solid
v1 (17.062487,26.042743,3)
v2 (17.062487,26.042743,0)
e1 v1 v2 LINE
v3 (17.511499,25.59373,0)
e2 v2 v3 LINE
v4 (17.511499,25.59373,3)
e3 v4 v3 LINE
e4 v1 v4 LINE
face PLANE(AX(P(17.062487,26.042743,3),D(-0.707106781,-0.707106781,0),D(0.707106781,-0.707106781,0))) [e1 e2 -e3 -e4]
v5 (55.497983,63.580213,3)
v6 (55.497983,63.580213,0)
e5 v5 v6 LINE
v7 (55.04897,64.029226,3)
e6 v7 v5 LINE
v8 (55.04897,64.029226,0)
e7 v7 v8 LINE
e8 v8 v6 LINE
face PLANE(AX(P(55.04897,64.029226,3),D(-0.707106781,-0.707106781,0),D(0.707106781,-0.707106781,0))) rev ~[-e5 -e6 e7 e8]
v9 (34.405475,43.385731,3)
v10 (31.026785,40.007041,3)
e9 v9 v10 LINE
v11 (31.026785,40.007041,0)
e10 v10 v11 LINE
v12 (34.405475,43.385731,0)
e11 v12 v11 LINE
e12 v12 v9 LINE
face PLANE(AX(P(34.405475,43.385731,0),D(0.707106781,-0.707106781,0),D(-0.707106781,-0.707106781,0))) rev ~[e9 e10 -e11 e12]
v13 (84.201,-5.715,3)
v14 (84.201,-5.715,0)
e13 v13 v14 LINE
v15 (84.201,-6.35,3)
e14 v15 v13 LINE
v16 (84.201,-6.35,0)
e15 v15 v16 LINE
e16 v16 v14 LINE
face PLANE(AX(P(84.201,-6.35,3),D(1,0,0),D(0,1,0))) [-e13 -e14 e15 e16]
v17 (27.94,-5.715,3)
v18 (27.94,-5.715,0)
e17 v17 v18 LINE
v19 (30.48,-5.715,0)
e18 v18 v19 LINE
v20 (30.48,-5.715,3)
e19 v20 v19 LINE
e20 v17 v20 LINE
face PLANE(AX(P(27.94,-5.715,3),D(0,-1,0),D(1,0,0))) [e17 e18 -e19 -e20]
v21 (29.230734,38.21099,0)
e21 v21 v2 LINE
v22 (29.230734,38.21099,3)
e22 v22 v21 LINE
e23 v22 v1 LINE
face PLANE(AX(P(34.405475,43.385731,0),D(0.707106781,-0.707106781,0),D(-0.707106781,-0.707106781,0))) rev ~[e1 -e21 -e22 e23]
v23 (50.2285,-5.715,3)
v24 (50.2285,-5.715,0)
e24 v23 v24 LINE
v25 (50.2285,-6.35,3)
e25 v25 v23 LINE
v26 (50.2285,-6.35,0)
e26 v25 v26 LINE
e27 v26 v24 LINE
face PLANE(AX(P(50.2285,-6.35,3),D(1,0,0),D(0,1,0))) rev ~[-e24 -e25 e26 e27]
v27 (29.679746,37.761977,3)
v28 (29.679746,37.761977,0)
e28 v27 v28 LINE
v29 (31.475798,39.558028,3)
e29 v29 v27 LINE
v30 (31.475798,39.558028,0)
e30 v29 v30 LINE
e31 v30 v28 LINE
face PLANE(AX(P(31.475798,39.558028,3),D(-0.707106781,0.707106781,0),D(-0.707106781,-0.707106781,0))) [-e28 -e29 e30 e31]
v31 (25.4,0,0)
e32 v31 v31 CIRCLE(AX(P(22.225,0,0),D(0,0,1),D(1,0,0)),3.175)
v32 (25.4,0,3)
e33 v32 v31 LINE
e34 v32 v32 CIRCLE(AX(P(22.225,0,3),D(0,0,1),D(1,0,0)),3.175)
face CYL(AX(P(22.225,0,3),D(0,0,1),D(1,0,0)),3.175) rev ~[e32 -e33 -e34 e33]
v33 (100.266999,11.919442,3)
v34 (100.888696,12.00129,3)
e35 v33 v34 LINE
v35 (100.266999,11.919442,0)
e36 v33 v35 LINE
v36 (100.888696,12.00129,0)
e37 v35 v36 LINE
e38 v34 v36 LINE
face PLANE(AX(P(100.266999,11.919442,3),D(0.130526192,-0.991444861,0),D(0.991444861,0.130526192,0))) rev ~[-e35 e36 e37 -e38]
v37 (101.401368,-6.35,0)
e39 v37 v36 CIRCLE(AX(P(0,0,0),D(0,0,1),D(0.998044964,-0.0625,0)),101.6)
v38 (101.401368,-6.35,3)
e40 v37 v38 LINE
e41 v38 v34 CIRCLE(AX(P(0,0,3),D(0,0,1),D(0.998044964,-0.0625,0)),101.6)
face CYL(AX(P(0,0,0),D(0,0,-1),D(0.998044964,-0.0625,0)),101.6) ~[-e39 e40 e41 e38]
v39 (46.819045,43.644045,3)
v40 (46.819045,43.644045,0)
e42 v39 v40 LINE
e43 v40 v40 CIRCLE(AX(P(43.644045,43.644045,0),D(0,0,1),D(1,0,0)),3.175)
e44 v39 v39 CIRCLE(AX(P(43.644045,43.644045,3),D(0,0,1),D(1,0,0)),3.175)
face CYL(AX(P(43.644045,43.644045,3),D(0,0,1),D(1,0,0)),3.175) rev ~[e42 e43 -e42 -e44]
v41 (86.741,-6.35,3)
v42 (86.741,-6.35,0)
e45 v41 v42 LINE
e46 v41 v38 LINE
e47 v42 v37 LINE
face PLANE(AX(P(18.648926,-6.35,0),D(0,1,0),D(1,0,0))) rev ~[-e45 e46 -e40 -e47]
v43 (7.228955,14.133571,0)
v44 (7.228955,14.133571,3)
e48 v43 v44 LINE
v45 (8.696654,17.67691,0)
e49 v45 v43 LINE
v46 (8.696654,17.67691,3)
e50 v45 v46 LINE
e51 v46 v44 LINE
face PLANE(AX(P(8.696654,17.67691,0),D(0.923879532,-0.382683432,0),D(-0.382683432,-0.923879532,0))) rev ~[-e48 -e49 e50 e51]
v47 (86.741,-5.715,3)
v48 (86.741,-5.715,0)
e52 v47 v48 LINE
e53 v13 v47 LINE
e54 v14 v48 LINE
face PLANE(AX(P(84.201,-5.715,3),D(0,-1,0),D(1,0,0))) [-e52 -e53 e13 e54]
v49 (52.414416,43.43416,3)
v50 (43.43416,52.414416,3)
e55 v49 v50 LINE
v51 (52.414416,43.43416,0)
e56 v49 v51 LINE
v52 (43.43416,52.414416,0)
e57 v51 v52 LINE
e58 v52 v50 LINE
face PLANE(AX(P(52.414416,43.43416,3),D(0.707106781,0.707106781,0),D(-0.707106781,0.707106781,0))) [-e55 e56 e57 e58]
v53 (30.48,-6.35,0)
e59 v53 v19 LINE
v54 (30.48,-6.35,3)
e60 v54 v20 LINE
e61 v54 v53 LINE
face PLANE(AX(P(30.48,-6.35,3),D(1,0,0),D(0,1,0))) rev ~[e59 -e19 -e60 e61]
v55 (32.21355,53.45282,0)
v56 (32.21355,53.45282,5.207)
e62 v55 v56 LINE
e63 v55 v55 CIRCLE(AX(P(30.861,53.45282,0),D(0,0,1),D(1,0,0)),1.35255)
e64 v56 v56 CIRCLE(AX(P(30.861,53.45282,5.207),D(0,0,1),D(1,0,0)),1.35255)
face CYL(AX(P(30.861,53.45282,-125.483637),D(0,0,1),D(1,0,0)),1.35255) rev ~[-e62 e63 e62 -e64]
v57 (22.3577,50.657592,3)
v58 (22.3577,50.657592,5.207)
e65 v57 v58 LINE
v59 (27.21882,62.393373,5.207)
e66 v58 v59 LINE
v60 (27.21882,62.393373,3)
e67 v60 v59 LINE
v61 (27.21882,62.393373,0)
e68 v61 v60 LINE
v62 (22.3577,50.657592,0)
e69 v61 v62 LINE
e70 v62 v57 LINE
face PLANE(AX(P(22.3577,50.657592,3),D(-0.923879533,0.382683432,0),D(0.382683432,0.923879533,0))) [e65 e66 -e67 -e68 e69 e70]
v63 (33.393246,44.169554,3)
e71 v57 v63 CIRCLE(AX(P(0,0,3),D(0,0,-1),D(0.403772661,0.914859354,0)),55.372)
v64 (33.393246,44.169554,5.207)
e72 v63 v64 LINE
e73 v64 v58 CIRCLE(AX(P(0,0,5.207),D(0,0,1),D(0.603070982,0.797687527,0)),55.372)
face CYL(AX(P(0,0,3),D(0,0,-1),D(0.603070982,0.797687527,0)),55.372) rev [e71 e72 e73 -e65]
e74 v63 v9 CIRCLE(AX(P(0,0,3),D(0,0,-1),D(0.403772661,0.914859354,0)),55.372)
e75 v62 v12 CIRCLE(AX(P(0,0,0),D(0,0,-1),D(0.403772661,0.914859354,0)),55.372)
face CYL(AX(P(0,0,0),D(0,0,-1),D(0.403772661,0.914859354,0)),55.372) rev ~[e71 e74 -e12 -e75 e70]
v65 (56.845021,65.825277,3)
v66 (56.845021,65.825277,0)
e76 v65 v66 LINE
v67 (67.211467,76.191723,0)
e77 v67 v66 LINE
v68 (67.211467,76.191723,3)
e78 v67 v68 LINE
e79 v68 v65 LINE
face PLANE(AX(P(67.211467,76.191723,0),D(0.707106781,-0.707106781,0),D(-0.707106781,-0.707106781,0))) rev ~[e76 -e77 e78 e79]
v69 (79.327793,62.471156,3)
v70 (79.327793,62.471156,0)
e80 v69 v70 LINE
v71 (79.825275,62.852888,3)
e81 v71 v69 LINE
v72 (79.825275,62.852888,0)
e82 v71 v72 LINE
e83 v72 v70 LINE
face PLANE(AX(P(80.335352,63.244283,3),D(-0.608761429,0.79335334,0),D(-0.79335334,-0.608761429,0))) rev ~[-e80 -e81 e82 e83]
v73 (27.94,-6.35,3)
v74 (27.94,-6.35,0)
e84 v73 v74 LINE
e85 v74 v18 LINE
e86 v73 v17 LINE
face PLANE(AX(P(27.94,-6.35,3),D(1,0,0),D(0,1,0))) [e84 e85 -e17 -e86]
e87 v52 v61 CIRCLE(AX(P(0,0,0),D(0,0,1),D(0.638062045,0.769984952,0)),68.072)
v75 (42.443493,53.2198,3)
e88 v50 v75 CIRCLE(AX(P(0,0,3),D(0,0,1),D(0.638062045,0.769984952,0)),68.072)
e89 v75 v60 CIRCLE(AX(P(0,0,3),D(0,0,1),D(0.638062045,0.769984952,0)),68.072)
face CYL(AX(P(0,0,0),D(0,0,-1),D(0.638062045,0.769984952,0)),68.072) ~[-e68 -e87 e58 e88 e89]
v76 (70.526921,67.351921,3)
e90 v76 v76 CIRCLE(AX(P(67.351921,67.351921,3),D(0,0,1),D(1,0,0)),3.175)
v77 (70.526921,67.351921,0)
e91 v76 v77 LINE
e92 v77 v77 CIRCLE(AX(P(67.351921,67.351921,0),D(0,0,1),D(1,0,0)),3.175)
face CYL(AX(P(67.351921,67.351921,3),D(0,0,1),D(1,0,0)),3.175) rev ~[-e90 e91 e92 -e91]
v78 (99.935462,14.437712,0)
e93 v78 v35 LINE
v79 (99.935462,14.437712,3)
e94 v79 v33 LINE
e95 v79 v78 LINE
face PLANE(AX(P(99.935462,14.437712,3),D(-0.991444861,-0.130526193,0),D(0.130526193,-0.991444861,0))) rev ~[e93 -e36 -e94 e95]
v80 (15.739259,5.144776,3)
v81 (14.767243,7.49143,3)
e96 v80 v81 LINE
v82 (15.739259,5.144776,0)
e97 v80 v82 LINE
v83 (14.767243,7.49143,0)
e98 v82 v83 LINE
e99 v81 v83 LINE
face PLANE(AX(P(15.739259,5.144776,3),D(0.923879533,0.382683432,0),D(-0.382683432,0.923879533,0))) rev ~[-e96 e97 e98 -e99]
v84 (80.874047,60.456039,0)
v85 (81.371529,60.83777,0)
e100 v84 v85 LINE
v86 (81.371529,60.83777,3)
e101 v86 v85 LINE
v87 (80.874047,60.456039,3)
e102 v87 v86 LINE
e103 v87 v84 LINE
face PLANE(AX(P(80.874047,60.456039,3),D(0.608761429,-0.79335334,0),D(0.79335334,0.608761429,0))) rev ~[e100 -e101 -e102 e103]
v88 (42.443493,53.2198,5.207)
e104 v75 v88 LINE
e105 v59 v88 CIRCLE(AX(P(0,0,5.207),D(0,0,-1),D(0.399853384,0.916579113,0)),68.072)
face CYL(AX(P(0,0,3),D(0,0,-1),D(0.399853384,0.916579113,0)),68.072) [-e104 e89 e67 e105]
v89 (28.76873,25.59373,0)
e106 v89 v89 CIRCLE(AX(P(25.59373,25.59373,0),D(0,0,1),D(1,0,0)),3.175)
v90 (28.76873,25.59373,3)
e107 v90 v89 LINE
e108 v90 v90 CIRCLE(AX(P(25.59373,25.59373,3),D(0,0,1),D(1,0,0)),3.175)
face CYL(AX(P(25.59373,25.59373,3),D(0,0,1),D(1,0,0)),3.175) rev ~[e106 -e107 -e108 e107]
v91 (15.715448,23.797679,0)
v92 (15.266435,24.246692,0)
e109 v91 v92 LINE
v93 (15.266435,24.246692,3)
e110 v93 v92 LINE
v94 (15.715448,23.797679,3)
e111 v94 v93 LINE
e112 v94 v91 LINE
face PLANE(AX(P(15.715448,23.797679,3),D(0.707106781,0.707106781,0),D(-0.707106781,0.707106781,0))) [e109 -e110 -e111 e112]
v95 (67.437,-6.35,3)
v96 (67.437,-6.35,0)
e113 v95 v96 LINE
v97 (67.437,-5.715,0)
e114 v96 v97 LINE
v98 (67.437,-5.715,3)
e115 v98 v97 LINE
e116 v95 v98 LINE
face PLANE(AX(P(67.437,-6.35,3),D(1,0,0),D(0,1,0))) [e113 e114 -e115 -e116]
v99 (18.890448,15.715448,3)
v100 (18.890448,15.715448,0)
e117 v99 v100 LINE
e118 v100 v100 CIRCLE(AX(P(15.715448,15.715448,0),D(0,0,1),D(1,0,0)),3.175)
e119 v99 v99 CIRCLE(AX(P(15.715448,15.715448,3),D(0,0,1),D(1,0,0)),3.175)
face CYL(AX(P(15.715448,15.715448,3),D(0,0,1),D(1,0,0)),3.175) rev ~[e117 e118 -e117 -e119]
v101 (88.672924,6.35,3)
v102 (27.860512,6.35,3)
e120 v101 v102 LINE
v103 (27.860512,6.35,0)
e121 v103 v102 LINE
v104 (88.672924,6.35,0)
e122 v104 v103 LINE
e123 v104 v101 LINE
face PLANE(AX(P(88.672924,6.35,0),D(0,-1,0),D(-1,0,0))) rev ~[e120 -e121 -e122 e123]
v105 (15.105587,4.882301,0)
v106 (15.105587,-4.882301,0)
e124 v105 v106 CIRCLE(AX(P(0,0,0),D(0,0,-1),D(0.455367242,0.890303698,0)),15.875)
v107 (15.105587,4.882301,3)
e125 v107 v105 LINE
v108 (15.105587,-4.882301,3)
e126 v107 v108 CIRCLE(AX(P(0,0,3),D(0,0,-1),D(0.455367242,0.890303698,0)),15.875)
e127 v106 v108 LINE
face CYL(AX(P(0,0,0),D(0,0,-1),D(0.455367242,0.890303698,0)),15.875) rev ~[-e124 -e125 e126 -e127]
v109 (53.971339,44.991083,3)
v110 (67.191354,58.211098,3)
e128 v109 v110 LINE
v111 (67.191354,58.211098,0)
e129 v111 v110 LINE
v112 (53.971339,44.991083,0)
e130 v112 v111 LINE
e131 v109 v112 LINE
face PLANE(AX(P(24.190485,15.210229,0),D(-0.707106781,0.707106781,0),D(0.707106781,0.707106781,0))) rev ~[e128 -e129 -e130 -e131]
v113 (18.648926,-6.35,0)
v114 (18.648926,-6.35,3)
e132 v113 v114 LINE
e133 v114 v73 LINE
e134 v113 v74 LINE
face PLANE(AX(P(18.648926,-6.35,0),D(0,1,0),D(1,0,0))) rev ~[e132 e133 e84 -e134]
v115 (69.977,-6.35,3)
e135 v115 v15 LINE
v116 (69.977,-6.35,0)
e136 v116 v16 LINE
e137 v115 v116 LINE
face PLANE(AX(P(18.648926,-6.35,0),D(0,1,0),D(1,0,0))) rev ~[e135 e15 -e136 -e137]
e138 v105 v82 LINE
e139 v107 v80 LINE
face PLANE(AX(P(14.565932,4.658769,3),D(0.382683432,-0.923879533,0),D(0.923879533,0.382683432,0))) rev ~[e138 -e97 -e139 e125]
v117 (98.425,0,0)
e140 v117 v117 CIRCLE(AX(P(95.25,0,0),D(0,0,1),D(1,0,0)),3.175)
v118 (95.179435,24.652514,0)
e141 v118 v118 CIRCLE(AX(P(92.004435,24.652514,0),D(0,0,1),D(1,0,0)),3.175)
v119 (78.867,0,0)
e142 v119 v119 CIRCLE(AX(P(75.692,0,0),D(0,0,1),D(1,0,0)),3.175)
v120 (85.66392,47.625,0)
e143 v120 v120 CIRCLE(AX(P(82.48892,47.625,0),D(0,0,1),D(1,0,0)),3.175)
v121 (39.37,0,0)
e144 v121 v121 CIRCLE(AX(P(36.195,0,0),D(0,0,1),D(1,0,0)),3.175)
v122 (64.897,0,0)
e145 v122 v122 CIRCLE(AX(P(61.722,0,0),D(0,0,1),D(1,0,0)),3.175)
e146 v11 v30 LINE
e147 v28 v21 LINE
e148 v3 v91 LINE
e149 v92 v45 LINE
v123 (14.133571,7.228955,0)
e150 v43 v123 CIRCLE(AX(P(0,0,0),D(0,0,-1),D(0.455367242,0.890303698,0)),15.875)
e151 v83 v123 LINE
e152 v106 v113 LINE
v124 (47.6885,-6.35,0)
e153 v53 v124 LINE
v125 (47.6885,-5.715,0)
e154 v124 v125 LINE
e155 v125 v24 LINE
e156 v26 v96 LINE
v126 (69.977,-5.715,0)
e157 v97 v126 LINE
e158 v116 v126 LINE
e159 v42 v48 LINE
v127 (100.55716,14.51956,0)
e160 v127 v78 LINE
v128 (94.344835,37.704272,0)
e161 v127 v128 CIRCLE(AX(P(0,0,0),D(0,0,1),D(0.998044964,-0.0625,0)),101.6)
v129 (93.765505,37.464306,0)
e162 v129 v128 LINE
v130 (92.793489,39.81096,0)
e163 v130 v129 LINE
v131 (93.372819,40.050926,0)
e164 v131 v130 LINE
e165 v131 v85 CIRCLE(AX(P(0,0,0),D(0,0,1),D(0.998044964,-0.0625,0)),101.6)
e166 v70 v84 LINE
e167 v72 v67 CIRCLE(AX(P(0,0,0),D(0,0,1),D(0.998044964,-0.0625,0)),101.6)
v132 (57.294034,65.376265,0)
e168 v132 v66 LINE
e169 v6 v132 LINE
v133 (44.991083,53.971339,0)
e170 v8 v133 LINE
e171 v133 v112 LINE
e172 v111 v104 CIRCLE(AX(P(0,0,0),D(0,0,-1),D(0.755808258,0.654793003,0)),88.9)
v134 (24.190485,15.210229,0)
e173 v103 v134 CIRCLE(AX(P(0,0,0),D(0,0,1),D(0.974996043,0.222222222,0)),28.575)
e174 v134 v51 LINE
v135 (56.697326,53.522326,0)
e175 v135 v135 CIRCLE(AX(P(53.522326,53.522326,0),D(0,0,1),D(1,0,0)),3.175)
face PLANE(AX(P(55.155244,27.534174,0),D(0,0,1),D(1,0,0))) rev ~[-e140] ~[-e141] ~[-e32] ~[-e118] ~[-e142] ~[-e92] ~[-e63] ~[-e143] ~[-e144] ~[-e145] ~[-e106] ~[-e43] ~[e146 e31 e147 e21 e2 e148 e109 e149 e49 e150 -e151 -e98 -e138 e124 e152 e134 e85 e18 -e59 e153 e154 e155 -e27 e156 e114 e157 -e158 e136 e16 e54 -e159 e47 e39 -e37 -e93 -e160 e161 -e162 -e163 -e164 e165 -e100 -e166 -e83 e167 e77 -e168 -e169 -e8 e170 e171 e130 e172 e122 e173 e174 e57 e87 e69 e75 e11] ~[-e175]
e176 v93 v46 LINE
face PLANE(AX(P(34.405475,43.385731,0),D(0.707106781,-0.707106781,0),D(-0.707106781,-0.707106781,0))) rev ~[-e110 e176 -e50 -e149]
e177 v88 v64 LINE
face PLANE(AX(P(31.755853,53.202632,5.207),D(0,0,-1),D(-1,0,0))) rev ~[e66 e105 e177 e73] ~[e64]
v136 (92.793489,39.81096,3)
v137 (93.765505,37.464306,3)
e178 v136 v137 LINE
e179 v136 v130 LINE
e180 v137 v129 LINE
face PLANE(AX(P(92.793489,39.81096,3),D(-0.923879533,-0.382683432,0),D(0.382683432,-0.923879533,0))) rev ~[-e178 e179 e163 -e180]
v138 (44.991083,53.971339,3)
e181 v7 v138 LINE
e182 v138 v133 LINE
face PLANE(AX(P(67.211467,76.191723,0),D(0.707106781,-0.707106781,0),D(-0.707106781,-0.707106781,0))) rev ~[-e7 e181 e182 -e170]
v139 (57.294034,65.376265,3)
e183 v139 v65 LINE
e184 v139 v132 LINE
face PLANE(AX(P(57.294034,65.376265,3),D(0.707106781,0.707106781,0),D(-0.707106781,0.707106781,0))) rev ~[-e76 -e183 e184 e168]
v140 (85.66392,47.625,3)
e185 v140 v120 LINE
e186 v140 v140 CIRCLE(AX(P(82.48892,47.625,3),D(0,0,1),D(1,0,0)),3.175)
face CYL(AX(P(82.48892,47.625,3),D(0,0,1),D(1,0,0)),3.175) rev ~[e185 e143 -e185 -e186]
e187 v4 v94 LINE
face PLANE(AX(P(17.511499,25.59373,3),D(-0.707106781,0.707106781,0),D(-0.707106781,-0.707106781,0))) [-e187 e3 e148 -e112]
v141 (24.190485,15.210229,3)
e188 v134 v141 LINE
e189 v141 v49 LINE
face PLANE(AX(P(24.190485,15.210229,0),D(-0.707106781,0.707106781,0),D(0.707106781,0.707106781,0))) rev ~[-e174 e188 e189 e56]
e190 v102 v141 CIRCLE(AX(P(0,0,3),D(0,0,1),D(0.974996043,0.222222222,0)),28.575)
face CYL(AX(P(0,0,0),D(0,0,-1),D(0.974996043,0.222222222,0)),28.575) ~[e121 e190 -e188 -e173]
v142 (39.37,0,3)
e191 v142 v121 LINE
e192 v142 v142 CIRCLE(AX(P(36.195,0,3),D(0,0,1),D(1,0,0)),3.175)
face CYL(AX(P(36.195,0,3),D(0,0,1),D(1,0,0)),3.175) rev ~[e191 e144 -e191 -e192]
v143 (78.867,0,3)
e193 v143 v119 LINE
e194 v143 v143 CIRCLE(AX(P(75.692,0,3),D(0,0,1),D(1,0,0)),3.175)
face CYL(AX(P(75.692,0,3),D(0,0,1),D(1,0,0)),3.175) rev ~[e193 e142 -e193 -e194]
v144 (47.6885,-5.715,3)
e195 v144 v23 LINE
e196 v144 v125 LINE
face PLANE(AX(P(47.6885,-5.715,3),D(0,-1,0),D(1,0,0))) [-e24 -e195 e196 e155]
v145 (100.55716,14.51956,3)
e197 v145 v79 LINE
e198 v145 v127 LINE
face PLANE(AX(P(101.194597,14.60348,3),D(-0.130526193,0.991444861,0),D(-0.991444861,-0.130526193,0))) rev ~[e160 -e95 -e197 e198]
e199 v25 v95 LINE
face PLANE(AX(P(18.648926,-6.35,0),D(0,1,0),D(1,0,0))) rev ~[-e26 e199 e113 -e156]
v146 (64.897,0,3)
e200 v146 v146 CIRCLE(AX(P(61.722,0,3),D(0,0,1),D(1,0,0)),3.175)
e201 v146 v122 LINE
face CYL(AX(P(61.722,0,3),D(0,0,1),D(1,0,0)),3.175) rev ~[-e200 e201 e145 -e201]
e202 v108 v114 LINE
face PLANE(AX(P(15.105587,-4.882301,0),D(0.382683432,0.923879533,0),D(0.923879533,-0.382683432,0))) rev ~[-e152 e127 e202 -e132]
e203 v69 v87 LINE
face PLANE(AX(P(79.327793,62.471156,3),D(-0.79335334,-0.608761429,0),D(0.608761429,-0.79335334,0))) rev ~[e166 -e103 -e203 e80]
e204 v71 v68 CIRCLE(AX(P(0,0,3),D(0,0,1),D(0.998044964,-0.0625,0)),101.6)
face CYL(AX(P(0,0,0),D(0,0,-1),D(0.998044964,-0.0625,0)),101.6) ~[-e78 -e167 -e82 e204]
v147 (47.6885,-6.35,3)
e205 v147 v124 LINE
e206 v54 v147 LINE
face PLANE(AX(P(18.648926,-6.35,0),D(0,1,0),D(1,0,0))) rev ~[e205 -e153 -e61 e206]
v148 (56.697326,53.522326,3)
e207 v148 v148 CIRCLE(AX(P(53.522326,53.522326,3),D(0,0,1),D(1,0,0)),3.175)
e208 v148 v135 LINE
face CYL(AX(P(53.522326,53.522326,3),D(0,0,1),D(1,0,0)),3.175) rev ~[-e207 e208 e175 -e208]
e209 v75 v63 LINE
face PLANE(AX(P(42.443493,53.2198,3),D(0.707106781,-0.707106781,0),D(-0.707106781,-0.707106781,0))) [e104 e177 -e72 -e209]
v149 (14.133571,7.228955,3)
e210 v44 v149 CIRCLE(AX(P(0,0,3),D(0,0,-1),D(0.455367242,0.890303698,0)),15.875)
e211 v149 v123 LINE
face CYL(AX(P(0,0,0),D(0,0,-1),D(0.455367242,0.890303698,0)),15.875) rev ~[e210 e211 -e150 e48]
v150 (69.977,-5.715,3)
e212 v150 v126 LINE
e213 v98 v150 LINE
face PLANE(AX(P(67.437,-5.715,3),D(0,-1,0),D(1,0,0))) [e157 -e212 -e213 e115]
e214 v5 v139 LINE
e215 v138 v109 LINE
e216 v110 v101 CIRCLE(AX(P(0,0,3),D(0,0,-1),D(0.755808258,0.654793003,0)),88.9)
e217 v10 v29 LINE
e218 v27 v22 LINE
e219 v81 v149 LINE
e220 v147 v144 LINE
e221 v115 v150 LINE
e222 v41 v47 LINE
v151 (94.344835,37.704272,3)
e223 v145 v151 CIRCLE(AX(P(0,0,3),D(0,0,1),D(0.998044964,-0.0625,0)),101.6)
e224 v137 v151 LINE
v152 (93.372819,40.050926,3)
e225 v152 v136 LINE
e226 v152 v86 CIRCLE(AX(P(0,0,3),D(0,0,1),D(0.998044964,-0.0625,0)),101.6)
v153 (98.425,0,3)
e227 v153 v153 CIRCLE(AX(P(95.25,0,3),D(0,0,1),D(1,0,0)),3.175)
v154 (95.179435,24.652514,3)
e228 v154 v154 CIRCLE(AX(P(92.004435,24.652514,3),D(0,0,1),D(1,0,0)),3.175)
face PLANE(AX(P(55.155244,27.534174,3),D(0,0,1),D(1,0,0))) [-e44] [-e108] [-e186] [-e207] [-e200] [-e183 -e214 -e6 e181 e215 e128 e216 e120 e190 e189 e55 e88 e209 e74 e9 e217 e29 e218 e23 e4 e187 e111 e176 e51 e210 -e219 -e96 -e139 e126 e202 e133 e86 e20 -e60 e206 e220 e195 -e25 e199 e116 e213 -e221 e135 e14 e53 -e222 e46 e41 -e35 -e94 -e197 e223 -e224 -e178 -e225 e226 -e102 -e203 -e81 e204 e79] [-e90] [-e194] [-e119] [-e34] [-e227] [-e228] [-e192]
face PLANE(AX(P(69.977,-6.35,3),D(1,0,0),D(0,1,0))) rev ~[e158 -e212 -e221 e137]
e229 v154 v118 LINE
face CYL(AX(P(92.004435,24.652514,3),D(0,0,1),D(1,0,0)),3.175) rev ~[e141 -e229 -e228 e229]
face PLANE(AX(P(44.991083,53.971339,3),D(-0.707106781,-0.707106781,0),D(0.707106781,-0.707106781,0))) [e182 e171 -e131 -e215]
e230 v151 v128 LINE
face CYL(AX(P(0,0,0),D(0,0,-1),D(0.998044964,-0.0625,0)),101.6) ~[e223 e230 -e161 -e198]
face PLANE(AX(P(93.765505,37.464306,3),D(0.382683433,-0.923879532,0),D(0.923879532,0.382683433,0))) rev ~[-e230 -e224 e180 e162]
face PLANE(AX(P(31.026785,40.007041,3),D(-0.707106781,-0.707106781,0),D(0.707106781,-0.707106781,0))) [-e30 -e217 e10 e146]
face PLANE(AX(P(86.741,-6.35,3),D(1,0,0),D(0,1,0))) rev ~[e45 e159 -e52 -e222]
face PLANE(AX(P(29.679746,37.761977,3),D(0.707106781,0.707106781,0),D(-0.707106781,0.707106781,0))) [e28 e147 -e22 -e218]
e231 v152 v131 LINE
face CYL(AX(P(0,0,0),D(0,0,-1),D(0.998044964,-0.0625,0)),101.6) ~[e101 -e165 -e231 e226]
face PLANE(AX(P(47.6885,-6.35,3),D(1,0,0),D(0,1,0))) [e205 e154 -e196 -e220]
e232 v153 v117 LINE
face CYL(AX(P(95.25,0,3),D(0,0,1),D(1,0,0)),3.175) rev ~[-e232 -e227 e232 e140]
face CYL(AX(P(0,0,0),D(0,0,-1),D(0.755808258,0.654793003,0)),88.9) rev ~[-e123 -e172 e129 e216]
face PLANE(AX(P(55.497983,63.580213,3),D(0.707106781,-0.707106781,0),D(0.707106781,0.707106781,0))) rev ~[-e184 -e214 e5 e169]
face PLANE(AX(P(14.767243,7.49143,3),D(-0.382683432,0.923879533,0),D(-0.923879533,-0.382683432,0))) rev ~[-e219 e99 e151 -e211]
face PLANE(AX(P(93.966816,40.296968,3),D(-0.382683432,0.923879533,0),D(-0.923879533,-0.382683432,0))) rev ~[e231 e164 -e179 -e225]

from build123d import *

# Parameters (mm, degrees)
BOSS_EXTRUDE1_DEPTH   = 3.000000096
SKETCH2_R             = 3.175
CUT_EXTRUDE1_DEPTH    = 4.000000096
SKETCH3_W             = 2.54
SKETCH3_H             = 0.635
CUT_EXTRUDE2_DEPTH    = 4.000000096
BOSS_EXTRUDE2_DEPTH   = 2.206999904
F_6_32_TAPPED_HOLE1_D = 2.7051


with BuildPart() as part:
    # Sketch1 → Boss-Extrude1 (new body)
    with BuildSketch(Plane.XY):
        with BuildLine():
            Line((27.218819563, 62.393373411), (22.357699804, 50.65759216))
            ThreePointArc((22.357699804, 50.65759216), (28.61353693, 47.405947816), (34.405475059, 43.38573118))
            Line((34.405475059, 43.38573118), (8.696654013, 17.676910134))
            Line((8.696654013, 17.676910134), (7.228954972, 14.133571205))
            ThreePointArc((7.228954972, 14.133571205), (14.666587579, 6.075099489), (15.105587123, -4.88230096))
            Line((15.105587123, -4.88230096), (18.648926052, -6.35))
            Line((18.648926052, -6.35), (101.401368334, -6.35))
            ThreePointArc((101.401368334, -6.35), (93.866160503, 38.880636728), (67.21146711, 76.191723231))
            Line((67.21146711, 76.191723231), (43.43415954, 52.414415661))
            ThreePointArc((43.43415954, 52.414415661), (35.677104191, 57.973626939), (27.218819563, 62.393373411))
        make_face()
        with BuildLine():
            Line((88.672924278, 6.35), (27.86051193, 6.35))
            ThreePointArc((27.86051193, 6.35), (26.399857642, 10.93517908), (24.190484974, 15.210228852))
            Line((24.190484974, 15.210228852), (67.191354125, 58.211098004))
            ThreePointArc((67.191354125, 58.211098004), (82.13289044, 34.020557137), (88.672924278, 6.35))
        make_face(mode=Mode.SUBTRACT)
    extrude(amount=BOSS_EXTRUDE1_DEPTH)

    # Sketch2 → Cut-Extrude1 (cut, through all)
    with BuildSketch(Plane.XY.offset(3.000000096)):
        with Locations((22.225, 0)):
            Circle(SKETCH2_R)
        with Locations((36.195, 0)):
            Circle(SKETCH2_R)
        with Locations((61.722, 0)):
            Circle(SKETCH2_R)
        with Locations((75.692, 0)):
            Circle(SKETCH2_R)
        with Locations((95.25, 0)):
            Circle(SKETCH2_R)
        with Locations((15.715448212, 15.715448212)):
            Circle(SKETCH2_R)
        with Locations((25.593729945, 25.593729945)):
            Circle(SKETCH2_R)
        with Locations((43.644044748, 43.644044748)):
            Circle(SKETCH2_R)
        with Locations((53.522326482, 53.522326482)):
            Circle(SKETCH2_R)
        with Locations((92.004434954, 24.652514046)):
            Circle(SKETCH2_R)
        with Locations((82.48891971, 47.625)):
            Circle(SKETCH2_R)
        with Locations((67.351920908, 67.351920908)):
            Circle(SKETCH2_R)
    extrude(amount=-CUT_EXTRUDE1_DEPTH, mode=Mode.SUBTRACT)

    # Sketch3 → Cut-Extrude2 (cut, through all)
    with BuildSketch(Plane.XY.offset(3.000000096)):
        Polygon((15.266435406, 24.246691527), (17.06248663, 26.042742751), (17.511499436, 25.593729945), (15.715448212, 23.797678721), align=None)
        Polygon((43.43415954, 52.414415661), (44.991083167, 53.971339288), (53.971339288, 44.991083167), (52.414415661, 43.43415954), align=None)
        with Locations((29.21, -6.0325)):
            Rectangle(SKETCH3_W, SKETCH3_H)
        with Locations((68.707, -6.0325)):
            Rectangle(SKETCH3_W, SKETCH3_H)
        Polygon((29.230733674, 38.210989795), (31.026784898, 40.007041019), (31.475797704, 39.558028213), (29.67974648, 37.761976989), align=None)
        Polygon((56.845021246, 65.825277367), (55.048970022, 64.029226143), (55.497982828, 63.580213337), (57.294034052, 65.376264561), align=None)
        with Locations((48.9585, -6.0325)):
            Rectangle(SKETCH3_W, SKETCH3_H)
        with Locations((85.471, -6.0325)):
            Rectangle(SKETCH3_W, SKETCH3_H)
        Polygon((99.935462164, 14.437711971), (100.266998693, 11.919442024), (101.526133667, 12.085210288), (101.194597138, 14.603480236), align=None)
        Polygon((93.765504959, 37.464305742), (94.938831965, 37.950313702), (93.966816047, 40.296967714), (92.793489041, 39.810959755), align=None)
        Polygon((79.327792988, 62.471156422), (80.874047017, 60.456038938), (81.88160576, 61.229165953), (80.33535173, 63.244283437), align=None)
        Polygon((13.593916116, 7.005422516), (14.565932035, 4.658768503), (15.739259041, 5.144776462), (14.767243123, 7.491430475), align=None)
    extrude(amount=-CUT_EXTRUDE2_DEPTH, mode=Mode.SUBTRACT)

    # Sketch4 → Boss-Extrude2 (add)
    with BuildSketch(Plane.XY.offset(3.000000096)):
        with BuildLine():
            Line((22.357699804, 50.65759216), (27.218819563, 62.393373411))
            ThreePointArc((27.218819563, 62.393373411), (35.13186657, 58.305652688), (42.443492672, 53.219800017))
            Line((42.443492672, 53.219800017), (33.393246405, 44.169553751))
            ThreePointArc((33.393246405, 44.169553751), (28.063600293, 47.73355971), (22.357699804, 50.65759216))
        make_face()
    extrude(amount=BOSS_EXTRUDE2_DEPTH)

    # #6-32 Tapped Hole1 (through all)
    with Locations(Plane(origin=(0, 0, 0), x_dir=(-1, 0, 0), z_dir=(0, 0, -1))):
        with Locations((-30.861, 53.452819972)):
            Hole(F_6_32_TAPPED_HOLE1_D / 2)


solid = part.part
